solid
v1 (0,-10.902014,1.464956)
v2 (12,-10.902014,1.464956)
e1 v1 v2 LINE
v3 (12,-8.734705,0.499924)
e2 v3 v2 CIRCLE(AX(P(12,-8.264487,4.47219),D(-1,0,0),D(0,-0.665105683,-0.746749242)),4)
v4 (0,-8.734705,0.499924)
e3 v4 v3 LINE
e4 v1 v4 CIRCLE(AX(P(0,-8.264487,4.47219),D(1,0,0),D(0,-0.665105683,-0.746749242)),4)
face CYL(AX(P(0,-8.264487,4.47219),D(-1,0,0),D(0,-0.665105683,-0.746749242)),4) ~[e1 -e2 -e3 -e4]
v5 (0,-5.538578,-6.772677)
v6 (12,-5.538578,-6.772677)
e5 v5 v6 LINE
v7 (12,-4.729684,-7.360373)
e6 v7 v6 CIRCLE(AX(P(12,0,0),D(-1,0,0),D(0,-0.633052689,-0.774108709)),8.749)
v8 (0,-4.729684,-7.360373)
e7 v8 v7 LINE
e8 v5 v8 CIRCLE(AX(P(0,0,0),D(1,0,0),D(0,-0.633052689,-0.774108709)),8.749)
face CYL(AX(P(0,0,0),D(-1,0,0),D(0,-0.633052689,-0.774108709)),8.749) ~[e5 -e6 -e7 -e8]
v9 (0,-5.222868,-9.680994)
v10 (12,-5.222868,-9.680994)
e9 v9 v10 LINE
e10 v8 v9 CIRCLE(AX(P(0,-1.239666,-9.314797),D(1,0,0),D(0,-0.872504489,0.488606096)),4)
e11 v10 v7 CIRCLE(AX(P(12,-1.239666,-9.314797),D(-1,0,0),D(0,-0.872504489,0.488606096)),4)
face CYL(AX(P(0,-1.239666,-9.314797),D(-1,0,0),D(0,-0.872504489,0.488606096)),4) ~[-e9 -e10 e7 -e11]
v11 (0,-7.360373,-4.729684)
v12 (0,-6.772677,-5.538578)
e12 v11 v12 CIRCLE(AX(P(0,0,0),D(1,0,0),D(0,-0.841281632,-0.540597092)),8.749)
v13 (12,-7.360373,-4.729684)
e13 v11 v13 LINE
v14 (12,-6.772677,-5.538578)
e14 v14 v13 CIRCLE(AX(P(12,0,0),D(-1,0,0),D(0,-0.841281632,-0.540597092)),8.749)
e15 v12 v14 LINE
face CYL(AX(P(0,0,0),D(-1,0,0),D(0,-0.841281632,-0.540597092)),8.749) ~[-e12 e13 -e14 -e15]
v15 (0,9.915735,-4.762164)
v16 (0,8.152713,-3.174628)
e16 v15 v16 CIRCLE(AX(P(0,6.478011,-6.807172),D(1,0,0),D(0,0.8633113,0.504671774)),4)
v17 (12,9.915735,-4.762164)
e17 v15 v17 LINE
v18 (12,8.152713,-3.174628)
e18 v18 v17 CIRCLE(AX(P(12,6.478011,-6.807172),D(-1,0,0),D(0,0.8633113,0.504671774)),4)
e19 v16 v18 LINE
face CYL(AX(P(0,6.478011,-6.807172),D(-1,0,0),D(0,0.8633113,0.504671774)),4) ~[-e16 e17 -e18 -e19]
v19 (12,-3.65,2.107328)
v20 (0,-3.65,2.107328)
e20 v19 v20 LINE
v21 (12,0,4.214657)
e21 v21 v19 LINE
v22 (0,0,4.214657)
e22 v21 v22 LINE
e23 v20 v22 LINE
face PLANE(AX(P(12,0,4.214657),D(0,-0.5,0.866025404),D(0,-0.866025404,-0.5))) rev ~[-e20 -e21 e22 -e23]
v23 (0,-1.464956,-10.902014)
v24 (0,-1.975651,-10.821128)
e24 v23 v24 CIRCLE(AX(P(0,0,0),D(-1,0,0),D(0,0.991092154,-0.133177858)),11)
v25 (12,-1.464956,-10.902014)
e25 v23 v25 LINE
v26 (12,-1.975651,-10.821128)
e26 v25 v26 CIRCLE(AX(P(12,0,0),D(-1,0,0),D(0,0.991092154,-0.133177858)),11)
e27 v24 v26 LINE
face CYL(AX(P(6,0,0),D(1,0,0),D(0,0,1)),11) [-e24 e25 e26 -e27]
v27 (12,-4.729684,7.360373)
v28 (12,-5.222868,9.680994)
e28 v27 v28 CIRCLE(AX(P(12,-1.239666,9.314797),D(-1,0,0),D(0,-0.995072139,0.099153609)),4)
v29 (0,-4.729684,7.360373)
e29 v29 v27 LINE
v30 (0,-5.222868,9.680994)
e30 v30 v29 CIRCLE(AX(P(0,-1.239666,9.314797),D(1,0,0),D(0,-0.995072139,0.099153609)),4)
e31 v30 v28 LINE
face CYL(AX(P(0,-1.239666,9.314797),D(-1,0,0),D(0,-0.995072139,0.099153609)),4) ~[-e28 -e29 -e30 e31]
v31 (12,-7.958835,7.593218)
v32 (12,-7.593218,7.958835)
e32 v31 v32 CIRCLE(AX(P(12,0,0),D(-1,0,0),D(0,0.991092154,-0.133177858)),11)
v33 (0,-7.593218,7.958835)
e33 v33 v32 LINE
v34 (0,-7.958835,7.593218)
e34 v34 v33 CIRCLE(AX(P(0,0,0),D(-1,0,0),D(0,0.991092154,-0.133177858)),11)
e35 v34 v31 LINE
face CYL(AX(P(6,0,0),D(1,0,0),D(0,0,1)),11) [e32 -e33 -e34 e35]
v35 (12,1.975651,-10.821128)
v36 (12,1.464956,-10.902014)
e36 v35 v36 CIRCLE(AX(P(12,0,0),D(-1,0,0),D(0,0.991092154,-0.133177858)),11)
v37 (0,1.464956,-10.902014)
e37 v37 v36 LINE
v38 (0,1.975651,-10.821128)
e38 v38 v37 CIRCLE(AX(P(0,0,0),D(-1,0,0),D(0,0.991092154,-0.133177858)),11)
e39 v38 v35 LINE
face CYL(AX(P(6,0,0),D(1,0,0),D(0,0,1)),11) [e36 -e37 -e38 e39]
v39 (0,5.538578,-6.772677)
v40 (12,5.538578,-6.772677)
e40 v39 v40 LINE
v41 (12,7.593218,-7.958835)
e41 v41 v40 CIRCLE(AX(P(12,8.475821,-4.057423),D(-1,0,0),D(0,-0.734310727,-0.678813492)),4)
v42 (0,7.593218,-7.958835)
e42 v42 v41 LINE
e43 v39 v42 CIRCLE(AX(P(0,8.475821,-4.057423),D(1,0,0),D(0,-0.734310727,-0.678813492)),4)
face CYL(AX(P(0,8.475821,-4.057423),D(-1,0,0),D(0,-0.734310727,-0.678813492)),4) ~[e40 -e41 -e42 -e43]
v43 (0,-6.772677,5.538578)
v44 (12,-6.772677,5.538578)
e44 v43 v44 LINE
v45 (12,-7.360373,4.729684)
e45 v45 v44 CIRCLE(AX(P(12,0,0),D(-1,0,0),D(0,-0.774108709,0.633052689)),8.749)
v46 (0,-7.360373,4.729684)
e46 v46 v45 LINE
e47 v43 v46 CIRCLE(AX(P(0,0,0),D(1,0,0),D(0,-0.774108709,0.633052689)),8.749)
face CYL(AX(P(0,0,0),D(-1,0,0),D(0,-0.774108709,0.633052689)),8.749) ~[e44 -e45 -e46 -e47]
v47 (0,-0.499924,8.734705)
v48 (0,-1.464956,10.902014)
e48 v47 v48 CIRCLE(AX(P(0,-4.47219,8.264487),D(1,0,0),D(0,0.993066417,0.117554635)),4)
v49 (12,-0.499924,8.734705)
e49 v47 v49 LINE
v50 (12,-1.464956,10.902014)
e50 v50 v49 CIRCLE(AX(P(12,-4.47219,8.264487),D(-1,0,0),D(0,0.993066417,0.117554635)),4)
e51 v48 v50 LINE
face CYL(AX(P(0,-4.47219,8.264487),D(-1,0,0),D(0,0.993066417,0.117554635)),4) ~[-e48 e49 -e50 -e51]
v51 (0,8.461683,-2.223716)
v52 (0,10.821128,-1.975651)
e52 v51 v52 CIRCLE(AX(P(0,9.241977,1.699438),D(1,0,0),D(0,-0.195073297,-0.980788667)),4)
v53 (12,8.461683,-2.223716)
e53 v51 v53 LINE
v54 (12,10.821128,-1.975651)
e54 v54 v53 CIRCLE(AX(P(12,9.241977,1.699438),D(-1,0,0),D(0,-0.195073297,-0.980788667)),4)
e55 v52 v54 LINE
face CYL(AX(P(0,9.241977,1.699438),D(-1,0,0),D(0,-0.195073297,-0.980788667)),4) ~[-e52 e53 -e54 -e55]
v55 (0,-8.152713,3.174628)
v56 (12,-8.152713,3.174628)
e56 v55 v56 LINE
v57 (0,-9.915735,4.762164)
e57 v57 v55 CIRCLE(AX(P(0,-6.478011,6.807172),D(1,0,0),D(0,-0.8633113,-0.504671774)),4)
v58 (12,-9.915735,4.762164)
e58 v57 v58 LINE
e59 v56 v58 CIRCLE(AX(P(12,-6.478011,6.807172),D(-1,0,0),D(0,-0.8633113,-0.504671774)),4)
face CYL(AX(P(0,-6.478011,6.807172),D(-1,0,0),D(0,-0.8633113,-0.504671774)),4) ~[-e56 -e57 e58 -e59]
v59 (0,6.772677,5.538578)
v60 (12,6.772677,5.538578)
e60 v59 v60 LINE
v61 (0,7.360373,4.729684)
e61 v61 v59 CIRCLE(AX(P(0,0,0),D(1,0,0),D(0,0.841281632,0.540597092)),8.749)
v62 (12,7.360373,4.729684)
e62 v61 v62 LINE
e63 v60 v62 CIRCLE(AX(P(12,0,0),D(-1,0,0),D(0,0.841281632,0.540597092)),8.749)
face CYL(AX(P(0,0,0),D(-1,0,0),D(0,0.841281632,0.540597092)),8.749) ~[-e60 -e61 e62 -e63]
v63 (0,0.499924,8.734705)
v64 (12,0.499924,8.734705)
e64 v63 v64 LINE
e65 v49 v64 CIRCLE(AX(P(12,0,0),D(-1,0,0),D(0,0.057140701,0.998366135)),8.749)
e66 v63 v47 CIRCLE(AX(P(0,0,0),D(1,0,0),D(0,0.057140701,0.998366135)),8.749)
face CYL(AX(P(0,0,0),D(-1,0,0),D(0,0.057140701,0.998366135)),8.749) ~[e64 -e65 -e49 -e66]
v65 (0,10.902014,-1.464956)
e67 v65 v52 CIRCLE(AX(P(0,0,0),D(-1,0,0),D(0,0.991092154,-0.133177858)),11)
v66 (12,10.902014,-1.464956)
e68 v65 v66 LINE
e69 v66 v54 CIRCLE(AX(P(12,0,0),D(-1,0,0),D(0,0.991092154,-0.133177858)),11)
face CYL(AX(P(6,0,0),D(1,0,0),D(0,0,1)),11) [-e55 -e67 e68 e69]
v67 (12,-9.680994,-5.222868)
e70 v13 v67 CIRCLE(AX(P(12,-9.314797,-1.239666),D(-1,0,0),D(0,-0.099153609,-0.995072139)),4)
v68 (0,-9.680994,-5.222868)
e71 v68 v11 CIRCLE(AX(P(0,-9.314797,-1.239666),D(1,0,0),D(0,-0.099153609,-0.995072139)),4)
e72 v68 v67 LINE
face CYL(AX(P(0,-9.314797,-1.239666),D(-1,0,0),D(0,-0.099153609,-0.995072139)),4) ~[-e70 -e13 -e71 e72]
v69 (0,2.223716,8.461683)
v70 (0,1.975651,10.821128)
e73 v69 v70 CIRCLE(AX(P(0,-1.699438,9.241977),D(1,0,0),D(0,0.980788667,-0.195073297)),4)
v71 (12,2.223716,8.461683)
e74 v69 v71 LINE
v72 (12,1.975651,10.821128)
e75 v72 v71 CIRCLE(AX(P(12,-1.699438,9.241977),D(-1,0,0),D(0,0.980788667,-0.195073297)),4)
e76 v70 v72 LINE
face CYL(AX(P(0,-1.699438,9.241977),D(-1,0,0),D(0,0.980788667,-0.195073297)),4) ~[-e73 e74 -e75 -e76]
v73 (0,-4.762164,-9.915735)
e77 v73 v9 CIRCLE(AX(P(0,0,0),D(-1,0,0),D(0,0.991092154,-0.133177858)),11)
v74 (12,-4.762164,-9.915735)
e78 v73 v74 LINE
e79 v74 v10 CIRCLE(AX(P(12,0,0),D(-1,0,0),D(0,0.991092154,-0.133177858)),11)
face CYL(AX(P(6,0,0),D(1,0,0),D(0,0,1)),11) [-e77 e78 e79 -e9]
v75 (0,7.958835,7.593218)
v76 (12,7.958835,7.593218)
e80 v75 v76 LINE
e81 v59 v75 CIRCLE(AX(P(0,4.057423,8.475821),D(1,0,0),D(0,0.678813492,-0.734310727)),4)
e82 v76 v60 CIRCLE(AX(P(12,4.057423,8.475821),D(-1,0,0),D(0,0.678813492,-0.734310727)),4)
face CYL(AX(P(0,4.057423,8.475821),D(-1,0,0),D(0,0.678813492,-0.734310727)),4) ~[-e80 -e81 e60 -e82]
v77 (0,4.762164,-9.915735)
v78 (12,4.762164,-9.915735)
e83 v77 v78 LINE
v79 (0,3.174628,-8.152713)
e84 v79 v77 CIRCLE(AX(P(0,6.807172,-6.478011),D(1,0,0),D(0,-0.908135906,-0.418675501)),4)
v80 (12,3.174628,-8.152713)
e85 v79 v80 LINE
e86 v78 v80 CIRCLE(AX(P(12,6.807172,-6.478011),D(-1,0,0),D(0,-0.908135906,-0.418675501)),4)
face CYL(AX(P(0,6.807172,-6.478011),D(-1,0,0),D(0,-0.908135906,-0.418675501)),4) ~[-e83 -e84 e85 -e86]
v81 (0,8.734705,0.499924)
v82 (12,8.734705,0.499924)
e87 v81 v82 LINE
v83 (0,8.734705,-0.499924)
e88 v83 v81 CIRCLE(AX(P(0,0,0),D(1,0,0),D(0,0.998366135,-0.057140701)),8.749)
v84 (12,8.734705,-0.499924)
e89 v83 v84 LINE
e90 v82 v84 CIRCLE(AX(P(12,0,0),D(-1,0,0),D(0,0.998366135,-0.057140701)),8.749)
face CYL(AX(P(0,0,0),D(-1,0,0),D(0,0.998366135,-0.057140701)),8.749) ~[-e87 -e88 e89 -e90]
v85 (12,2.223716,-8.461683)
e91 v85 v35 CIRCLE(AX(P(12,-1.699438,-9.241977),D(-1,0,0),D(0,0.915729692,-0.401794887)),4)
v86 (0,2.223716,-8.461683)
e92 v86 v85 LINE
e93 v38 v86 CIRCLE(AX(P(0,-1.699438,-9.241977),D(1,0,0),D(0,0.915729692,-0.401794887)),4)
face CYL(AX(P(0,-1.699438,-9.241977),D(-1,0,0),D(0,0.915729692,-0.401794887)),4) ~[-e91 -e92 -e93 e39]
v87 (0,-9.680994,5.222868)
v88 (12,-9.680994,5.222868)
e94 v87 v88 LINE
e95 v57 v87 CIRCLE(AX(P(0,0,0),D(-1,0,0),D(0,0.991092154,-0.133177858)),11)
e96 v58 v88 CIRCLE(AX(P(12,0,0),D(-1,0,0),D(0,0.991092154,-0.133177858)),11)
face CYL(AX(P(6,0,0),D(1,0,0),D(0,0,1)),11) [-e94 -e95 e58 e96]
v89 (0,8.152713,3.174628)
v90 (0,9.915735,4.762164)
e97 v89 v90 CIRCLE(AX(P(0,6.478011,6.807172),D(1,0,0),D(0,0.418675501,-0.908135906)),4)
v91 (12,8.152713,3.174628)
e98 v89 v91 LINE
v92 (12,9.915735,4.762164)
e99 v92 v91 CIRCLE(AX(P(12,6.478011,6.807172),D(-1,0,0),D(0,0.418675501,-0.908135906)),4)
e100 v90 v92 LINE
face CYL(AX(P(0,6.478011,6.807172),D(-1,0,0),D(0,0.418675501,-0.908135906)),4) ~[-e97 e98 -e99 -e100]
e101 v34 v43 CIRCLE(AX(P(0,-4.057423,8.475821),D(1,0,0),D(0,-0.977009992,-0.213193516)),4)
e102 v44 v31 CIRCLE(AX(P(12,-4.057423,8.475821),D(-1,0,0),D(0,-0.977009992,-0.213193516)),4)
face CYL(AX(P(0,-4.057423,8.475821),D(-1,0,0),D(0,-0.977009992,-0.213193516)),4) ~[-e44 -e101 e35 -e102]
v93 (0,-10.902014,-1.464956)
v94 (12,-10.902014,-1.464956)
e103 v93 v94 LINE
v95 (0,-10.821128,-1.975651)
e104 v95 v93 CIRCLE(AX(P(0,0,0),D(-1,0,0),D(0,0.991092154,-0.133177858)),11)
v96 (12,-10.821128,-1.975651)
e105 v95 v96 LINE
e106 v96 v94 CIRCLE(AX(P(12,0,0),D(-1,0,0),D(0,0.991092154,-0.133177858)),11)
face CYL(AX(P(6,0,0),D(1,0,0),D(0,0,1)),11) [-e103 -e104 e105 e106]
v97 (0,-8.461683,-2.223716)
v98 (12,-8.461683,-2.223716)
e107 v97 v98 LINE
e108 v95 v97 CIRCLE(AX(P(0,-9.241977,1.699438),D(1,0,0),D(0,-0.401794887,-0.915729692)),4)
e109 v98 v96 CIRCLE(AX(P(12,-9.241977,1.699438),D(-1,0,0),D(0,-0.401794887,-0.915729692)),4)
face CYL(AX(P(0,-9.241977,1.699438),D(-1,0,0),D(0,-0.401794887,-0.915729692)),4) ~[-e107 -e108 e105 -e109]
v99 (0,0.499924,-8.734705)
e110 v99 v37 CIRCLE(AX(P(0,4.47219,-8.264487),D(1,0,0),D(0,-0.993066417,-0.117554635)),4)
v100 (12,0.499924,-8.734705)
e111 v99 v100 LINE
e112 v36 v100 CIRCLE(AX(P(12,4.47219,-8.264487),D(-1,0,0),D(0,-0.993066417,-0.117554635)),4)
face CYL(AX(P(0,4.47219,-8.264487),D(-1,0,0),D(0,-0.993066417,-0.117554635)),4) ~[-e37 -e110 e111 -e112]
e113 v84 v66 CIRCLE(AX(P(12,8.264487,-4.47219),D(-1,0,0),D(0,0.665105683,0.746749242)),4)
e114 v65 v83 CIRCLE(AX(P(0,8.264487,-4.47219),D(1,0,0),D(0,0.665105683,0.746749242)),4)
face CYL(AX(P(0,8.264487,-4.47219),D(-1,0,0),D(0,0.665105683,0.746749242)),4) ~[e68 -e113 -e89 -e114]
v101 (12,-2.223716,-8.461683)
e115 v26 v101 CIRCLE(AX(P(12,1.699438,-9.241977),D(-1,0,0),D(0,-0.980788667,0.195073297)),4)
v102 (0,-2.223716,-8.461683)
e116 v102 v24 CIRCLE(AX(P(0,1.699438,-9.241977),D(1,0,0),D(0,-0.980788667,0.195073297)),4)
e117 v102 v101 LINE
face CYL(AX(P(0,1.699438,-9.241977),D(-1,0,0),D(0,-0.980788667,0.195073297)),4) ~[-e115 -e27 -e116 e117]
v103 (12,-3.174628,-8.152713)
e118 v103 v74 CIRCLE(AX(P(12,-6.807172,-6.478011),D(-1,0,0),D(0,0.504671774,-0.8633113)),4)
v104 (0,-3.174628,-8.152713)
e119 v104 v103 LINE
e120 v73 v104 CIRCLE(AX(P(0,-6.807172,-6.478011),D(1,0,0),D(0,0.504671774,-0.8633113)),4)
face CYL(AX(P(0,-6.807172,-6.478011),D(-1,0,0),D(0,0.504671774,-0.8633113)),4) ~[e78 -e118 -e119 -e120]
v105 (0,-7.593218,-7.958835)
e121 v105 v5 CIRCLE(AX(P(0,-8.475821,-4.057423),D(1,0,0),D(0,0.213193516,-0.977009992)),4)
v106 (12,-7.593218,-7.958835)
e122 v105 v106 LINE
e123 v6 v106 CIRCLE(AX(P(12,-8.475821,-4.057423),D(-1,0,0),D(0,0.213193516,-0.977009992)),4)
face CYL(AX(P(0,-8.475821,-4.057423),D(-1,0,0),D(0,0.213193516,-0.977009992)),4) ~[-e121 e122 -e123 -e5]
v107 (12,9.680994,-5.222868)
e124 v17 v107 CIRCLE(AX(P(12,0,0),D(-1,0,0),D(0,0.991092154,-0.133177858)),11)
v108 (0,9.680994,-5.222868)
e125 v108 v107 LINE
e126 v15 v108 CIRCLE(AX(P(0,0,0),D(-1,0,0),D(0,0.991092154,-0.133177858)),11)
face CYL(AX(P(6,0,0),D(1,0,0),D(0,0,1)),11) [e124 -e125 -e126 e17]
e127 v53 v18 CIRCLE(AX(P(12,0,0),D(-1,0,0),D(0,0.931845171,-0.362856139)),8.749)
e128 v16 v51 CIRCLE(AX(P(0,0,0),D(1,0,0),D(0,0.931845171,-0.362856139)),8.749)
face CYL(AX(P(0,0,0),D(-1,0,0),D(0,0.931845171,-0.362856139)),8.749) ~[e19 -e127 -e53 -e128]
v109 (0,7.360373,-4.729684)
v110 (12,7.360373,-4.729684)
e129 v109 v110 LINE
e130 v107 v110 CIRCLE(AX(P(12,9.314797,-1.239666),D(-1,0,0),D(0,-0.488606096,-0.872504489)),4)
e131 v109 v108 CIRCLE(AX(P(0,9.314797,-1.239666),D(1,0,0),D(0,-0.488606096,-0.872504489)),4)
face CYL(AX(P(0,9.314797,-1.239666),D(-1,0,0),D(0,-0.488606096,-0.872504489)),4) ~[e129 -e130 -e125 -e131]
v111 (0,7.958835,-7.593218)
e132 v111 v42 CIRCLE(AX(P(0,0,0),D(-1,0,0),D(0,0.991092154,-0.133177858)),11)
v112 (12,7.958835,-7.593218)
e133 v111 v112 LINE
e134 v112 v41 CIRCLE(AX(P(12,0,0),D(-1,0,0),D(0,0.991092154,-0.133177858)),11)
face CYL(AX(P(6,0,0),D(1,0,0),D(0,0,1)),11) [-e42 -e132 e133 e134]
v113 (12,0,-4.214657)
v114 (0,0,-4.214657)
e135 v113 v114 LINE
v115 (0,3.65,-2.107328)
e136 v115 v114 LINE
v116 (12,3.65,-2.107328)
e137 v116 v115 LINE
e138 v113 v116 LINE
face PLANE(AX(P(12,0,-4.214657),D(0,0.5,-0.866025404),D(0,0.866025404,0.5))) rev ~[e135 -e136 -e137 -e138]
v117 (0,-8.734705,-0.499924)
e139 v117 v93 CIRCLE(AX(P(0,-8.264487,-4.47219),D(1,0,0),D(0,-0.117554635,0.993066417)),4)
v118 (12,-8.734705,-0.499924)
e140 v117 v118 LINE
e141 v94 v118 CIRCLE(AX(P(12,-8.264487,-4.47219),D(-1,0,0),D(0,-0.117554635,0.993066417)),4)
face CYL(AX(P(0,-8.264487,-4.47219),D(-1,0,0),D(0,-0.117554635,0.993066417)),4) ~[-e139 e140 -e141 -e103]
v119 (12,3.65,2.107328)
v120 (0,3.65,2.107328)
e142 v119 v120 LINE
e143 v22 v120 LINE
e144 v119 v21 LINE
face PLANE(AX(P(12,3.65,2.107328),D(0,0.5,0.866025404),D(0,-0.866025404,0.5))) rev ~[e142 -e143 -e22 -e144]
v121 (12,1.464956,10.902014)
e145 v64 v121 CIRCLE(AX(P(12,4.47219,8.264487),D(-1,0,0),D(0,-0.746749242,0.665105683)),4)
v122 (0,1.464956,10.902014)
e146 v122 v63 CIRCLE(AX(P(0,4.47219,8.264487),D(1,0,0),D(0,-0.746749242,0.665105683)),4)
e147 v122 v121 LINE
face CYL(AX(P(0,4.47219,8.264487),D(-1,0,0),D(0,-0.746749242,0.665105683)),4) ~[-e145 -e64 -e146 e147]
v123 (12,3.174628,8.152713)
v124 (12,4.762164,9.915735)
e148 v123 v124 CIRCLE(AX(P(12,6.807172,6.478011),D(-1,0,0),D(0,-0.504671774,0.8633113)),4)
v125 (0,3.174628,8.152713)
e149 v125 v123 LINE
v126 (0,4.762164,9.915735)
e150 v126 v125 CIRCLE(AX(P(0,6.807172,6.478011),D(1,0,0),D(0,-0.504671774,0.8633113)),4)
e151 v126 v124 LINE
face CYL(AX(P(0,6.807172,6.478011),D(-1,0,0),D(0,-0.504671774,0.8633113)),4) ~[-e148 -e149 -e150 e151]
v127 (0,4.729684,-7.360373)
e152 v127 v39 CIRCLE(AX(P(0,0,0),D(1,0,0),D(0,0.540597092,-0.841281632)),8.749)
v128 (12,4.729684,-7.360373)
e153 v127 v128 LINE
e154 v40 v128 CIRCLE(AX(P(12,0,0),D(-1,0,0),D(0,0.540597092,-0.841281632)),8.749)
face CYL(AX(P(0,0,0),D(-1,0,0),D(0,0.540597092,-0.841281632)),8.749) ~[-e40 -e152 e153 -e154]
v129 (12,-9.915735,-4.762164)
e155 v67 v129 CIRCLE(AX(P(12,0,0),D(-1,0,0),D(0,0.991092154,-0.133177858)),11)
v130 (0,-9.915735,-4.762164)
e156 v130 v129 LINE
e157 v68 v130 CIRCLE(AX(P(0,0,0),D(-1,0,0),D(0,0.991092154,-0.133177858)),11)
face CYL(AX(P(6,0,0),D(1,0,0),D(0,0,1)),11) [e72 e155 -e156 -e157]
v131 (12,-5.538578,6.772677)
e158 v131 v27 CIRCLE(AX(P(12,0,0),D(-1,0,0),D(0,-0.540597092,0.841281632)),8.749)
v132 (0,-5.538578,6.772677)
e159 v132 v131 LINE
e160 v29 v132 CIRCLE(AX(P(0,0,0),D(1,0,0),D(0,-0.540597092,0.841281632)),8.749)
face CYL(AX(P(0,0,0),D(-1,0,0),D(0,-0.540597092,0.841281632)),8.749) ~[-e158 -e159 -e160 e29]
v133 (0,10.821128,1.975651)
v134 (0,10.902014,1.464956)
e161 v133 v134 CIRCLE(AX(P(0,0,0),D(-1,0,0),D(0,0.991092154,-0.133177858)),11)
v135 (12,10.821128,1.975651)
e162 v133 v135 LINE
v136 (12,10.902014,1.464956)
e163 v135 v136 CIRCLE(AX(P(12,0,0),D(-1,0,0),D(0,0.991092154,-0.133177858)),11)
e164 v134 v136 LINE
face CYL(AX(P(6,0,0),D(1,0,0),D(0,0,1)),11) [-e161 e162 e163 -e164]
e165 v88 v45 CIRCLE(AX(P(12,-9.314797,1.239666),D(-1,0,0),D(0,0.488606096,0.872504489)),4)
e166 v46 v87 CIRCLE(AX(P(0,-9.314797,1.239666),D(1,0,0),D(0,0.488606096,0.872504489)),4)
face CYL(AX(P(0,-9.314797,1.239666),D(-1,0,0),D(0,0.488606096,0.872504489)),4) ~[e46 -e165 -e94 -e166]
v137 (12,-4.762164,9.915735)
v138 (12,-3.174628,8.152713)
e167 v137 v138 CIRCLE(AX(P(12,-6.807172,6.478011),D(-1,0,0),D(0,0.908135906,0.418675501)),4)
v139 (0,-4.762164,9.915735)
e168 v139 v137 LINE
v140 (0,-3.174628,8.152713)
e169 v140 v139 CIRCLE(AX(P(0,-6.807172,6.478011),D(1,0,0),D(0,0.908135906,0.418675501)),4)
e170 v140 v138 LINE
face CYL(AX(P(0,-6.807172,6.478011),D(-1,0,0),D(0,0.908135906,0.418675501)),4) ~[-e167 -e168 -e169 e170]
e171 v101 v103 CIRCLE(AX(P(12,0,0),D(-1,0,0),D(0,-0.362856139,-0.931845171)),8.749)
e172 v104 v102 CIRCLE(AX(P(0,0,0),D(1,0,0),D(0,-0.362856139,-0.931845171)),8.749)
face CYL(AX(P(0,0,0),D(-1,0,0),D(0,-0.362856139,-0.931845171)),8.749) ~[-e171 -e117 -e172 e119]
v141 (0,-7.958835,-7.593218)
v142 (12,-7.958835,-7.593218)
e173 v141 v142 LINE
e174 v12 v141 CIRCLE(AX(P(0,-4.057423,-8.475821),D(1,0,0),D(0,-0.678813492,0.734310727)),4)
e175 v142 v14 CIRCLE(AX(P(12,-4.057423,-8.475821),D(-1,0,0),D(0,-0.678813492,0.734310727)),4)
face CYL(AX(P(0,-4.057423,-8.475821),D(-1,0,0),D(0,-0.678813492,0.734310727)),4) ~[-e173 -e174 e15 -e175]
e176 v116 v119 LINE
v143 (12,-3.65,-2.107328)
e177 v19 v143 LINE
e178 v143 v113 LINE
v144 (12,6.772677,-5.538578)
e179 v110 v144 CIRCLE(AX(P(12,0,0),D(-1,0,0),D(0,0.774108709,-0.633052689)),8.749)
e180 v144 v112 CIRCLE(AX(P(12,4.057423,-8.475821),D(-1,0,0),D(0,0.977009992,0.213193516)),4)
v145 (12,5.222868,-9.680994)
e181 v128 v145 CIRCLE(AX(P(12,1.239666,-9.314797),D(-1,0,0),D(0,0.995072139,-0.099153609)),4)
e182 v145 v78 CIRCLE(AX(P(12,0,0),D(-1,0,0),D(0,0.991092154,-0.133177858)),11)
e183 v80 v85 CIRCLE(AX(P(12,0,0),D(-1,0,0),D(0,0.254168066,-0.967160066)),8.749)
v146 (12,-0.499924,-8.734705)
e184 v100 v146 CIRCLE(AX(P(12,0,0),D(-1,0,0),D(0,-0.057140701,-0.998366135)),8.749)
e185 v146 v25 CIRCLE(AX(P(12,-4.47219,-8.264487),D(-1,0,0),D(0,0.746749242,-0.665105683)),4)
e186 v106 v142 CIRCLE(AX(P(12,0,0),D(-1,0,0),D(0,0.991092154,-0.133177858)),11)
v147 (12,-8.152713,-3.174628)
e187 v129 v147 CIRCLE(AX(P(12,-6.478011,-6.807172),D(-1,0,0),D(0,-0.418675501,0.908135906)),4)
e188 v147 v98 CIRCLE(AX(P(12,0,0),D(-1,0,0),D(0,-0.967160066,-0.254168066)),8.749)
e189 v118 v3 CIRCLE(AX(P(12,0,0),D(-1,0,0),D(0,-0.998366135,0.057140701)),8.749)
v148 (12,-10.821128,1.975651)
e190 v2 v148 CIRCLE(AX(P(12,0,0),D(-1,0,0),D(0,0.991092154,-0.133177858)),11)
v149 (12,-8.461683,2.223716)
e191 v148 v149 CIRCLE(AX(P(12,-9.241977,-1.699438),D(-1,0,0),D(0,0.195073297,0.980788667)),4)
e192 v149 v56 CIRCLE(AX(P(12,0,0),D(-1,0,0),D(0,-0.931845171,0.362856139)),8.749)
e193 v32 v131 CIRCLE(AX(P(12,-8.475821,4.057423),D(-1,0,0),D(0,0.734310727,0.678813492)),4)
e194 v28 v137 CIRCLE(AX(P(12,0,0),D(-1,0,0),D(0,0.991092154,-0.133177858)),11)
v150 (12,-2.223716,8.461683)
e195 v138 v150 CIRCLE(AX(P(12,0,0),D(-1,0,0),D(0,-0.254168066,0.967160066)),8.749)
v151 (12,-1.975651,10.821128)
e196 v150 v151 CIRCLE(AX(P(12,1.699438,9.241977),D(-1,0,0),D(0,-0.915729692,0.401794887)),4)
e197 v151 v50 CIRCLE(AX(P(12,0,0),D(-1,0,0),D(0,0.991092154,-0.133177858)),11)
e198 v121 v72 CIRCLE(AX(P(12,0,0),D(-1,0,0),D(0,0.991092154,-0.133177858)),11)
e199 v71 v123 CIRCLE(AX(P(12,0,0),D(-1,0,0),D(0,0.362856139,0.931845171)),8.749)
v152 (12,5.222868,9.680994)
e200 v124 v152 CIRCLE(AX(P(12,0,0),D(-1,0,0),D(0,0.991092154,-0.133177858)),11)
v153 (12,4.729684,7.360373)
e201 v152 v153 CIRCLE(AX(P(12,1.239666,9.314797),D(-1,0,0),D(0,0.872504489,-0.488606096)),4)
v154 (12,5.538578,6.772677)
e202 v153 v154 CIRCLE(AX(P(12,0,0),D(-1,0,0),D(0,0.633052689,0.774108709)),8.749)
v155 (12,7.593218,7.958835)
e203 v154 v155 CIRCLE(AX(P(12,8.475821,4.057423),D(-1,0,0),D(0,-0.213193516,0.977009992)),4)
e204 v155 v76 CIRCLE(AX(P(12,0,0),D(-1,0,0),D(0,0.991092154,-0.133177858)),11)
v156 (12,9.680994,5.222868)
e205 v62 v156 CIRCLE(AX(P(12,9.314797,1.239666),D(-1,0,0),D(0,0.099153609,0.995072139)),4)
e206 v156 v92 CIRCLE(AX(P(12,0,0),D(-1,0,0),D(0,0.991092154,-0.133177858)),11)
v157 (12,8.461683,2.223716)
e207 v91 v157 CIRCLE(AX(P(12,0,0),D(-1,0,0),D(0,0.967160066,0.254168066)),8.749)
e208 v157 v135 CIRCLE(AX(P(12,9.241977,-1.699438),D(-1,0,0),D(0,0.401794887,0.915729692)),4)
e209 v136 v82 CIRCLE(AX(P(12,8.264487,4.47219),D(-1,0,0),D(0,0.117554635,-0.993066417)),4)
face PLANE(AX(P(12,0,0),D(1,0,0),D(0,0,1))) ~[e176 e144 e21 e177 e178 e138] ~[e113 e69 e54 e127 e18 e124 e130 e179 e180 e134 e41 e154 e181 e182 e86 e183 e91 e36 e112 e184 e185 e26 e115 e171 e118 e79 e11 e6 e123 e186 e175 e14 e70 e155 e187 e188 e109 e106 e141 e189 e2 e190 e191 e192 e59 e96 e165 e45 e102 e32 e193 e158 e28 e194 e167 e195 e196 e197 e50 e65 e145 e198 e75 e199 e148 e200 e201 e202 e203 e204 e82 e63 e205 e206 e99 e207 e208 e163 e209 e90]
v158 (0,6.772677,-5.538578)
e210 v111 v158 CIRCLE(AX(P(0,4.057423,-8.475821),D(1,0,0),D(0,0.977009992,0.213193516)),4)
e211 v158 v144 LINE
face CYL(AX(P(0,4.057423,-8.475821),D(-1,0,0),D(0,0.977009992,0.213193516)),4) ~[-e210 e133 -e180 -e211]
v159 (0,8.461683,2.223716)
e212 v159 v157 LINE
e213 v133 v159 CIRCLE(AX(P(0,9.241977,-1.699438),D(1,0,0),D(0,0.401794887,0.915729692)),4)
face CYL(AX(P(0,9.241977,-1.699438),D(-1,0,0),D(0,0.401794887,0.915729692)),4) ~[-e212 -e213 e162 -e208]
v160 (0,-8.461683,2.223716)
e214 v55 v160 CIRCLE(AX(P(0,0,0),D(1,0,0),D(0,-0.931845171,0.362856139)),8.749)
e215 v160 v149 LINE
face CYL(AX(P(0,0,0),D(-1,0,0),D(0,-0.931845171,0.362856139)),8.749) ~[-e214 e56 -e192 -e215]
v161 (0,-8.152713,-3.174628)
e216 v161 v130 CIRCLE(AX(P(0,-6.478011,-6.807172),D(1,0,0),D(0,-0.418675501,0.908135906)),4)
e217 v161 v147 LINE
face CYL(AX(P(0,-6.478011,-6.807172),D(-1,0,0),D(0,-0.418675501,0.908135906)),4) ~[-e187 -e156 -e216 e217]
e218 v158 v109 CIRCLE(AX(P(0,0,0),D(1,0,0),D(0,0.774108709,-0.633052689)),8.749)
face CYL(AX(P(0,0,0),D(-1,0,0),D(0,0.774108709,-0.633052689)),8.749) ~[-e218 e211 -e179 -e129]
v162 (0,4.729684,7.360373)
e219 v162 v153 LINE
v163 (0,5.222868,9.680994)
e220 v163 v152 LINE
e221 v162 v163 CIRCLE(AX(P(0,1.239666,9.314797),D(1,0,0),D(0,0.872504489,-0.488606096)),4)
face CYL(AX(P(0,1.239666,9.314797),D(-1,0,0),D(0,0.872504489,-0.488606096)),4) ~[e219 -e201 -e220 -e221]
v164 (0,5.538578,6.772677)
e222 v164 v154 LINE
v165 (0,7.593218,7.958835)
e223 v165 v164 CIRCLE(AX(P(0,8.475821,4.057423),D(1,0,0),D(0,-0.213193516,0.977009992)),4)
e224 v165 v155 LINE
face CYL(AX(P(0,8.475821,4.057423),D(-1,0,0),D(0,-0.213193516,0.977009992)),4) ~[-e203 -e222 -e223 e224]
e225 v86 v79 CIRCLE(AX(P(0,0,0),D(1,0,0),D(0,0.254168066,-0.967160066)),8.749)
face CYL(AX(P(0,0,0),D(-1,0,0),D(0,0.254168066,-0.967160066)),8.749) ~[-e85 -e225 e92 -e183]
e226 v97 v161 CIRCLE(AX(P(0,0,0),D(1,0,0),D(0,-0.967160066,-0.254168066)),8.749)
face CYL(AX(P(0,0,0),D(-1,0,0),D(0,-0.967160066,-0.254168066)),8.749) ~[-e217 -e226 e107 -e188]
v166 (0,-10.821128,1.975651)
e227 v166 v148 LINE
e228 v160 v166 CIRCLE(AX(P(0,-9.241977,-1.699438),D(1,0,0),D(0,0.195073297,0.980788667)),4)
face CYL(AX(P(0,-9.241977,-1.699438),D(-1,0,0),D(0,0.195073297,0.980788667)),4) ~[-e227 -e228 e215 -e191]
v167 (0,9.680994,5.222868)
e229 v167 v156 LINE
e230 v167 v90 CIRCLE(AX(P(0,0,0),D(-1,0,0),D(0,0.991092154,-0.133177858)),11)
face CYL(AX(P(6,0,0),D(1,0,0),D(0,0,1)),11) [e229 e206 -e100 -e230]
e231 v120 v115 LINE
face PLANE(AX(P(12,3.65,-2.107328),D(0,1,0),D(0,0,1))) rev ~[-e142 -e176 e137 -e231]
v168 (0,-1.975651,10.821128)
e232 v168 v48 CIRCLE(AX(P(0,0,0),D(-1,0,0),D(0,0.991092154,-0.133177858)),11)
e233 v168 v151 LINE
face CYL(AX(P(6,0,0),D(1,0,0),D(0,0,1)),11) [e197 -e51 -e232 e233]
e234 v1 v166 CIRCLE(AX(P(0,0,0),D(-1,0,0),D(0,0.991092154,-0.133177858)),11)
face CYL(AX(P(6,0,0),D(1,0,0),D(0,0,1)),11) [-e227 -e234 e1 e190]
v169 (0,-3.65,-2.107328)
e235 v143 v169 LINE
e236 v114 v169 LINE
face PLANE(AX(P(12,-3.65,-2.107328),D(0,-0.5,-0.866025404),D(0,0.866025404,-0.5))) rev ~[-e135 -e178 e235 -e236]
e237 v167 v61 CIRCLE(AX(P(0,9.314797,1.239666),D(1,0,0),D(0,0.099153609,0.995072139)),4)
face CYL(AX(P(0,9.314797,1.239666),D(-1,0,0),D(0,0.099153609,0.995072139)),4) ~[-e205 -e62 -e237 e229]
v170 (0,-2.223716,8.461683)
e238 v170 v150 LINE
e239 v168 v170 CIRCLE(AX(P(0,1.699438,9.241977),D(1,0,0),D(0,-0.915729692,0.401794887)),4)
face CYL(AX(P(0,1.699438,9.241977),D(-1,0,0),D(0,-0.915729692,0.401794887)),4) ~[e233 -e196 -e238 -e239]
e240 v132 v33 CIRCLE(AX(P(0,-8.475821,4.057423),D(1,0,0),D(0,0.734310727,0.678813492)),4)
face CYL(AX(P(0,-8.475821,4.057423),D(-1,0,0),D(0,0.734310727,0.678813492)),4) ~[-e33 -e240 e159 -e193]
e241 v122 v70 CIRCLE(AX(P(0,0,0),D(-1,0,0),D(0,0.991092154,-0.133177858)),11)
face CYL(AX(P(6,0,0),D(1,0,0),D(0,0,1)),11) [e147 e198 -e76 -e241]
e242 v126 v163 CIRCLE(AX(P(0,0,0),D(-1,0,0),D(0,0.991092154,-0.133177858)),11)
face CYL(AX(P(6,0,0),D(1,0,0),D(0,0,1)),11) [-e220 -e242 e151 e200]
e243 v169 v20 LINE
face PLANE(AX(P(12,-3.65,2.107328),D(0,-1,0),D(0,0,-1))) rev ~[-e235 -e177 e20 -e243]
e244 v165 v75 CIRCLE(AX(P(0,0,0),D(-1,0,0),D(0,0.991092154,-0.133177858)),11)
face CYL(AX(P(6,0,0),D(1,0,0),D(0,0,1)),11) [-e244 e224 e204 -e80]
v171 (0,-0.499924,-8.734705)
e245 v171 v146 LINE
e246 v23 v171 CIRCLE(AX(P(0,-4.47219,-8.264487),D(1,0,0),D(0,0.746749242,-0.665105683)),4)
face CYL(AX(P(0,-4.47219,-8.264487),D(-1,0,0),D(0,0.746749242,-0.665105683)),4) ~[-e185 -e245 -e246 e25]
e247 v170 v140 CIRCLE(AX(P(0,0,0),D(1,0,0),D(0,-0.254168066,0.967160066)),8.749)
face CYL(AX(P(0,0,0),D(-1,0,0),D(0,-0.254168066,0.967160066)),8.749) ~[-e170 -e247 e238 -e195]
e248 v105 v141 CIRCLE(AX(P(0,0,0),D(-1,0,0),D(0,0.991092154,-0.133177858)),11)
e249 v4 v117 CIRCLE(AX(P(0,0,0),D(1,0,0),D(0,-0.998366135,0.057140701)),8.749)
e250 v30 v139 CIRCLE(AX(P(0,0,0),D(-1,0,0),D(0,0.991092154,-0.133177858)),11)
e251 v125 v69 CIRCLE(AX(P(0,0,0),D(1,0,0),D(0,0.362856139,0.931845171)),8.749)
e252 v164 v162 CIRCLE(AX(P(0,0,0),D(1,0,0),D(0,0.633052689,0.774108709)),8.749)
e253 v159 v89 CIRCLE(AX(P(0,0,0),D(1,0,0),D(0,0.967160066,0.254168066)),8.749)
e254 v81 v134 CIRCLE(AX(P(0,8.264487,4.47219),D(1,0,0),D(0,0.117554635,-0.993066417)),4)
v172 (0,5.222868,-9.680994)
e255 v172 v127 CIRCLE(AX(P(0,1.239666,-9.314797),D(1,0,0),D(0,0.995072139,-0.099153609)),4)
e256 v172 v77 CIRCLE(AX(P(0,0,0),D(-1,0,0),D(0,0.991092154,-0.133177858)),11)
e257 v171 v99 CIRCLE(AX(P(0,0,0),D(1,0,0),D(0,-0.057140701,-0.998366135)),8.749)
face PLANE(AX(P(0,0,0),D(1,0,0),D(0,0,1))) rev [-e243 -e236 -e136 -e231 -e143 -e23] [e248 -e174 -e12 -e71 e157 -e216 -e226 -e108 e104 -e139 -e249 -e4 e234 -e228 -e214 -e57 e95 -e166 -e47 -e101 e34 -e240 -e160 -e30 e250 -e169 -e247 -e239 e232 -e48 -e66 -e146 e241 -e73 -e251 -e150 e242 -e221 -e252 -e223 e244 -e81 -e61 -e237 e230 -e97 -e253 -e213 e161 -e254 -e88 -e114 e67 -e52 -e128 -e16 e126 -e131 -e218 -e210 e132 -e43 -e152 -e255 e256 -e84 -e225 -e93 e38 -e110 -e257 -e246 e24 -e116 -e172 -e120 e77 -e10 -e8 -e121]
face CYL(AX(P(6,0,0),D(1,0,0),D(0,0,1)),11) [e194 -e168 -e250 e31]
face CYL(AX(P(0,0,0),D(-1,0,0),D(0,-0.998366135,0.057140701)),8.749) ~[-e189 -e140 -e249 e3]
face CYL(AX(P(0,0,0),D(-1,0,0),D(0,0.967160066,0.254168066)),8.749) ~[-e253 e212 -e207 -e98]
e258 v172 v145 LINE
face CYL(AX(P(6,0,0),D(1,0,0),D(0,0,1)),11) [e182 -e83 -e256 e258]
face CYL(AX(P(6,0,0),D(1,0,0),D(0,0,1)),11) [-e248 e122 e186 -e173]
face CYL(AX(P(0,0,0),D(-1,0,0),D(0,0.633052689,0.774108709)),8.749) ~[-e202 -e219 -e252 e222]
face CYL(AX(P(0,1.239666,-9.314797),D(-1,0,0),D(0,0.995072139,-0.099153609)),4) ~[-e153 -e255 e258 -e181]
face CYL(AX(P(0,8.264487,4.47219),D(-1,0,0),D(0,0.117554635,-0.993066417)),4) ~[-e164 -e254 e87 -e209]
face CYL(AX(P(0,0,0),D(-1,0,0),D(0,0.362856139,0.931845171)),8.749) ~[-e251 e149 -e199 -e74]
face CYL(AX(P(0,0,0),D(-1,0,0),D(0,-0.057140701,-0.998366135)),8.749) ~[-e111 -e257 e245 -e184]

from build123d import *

# Parameters (mm, degrees)
BASPROSKE_W           = 12
BASPROSKE_H           = 11
TOOTHCUT_DEPTH        = 20.646882704
TEETHCUTS_COUNT       = 20
TEETHCUTS_ANGLE       = 342
BORSKE_R              = 0.4
BORE_DEPTH            = 50.0000508
KES_EKSTR_ZYON1_DEPTH = 20


with BuildPart() as part:
    # BasProSke → Base-Revolve (revolve)
    with BuildSketch(Plane(origin=(0, 0, 0), x_dir=(1, 0, 0), z_dir=(0, 1, 0)), mode=Mode.PRIVATE) as base_revolve_sk:
        with Locations((6, 5.5)):
            Rectangle(BASPROSKE_W, BASPROSKE_H)
    revolve(base_revolve_sk.sketch.rotate(Axis((-10, 0, 0), (1, 0, 0)), 180), axis=Axis((-10, 0, 0), (1, 0, 0)))

    # TooCutSke → ToothCut (cut, through all)
    with BuildSketch(Plane(origin=(0, 0, 0), x_dir=(0, 0, -1), z_dir=(1, 0, 0))):
        with BuildLine():
            ThreePointArc((0.499924007, 8.734705318), (0, 8.749), (-0.499924007, 8.734705318))
            ThreePointArc((-0.499924007, 8.734705318), (-0.824302243, 9.905497836), (-1.485192705, 10.924909509))
            ThreePointArc((-1.485192705, 10.924909509), (0, 11.0254), (1.485192705, 10.924909509))
            ThreePointArc((1.485192705, 10.924909509), (0.824302243, 9.905497836), (0.499924007, 8.734705318))
        make_face()
    toothcut = extrude(amount=TOOTHCUT_DEPTH, mode=Mode.SUBTRACT)

    # TeethCuts: ToothCut ×20 about axis
    teethcuts_axis = Axis((-10, 0, 0), (1, 0, 0))
    for i in range(1, TEETHCUTS_COUNT):
        add(toothcut.rotate(teethcuts_axis, i * TEETHCUTS_ANGLE / (TEETHCUTS_COUNT - 1)), mode=Mode.SUBTRACT)

    # BorSke → Bore (cut, symmetric)
    with BuildSketch(Plane(origin=(0, 0, 0), x_dir=(0, 0, -1), z_dir=(1, 0, 0))):
        with Locations(Location((0, 0, 0), (0, 0, 180))):
            Circle(BORSKE_R)
    extrude(amount=BORE_DEPTH, both=True, mode=Mode.SUBTRACT)

    # Çizim1 → Kes-Ekstrüzyon1 (cut)
    with BuildSketch(Plane(origin=(12, 0, 0), x_dir=(0, 0, -1), z_dir=(1, 0, 0))):
        Polygon((4.214656965, 0), (2.107328483, 3.65), (-2.107328483, 3.65), (-4.214656965, 0), (-2.107328483, -3.65), (2.107328483, -3.65), align=None)
    extrude(amount=-KES_EKSTR_ZYON1_DEPTH, mode=Mode.SUBTRACT)


solid = part.part
